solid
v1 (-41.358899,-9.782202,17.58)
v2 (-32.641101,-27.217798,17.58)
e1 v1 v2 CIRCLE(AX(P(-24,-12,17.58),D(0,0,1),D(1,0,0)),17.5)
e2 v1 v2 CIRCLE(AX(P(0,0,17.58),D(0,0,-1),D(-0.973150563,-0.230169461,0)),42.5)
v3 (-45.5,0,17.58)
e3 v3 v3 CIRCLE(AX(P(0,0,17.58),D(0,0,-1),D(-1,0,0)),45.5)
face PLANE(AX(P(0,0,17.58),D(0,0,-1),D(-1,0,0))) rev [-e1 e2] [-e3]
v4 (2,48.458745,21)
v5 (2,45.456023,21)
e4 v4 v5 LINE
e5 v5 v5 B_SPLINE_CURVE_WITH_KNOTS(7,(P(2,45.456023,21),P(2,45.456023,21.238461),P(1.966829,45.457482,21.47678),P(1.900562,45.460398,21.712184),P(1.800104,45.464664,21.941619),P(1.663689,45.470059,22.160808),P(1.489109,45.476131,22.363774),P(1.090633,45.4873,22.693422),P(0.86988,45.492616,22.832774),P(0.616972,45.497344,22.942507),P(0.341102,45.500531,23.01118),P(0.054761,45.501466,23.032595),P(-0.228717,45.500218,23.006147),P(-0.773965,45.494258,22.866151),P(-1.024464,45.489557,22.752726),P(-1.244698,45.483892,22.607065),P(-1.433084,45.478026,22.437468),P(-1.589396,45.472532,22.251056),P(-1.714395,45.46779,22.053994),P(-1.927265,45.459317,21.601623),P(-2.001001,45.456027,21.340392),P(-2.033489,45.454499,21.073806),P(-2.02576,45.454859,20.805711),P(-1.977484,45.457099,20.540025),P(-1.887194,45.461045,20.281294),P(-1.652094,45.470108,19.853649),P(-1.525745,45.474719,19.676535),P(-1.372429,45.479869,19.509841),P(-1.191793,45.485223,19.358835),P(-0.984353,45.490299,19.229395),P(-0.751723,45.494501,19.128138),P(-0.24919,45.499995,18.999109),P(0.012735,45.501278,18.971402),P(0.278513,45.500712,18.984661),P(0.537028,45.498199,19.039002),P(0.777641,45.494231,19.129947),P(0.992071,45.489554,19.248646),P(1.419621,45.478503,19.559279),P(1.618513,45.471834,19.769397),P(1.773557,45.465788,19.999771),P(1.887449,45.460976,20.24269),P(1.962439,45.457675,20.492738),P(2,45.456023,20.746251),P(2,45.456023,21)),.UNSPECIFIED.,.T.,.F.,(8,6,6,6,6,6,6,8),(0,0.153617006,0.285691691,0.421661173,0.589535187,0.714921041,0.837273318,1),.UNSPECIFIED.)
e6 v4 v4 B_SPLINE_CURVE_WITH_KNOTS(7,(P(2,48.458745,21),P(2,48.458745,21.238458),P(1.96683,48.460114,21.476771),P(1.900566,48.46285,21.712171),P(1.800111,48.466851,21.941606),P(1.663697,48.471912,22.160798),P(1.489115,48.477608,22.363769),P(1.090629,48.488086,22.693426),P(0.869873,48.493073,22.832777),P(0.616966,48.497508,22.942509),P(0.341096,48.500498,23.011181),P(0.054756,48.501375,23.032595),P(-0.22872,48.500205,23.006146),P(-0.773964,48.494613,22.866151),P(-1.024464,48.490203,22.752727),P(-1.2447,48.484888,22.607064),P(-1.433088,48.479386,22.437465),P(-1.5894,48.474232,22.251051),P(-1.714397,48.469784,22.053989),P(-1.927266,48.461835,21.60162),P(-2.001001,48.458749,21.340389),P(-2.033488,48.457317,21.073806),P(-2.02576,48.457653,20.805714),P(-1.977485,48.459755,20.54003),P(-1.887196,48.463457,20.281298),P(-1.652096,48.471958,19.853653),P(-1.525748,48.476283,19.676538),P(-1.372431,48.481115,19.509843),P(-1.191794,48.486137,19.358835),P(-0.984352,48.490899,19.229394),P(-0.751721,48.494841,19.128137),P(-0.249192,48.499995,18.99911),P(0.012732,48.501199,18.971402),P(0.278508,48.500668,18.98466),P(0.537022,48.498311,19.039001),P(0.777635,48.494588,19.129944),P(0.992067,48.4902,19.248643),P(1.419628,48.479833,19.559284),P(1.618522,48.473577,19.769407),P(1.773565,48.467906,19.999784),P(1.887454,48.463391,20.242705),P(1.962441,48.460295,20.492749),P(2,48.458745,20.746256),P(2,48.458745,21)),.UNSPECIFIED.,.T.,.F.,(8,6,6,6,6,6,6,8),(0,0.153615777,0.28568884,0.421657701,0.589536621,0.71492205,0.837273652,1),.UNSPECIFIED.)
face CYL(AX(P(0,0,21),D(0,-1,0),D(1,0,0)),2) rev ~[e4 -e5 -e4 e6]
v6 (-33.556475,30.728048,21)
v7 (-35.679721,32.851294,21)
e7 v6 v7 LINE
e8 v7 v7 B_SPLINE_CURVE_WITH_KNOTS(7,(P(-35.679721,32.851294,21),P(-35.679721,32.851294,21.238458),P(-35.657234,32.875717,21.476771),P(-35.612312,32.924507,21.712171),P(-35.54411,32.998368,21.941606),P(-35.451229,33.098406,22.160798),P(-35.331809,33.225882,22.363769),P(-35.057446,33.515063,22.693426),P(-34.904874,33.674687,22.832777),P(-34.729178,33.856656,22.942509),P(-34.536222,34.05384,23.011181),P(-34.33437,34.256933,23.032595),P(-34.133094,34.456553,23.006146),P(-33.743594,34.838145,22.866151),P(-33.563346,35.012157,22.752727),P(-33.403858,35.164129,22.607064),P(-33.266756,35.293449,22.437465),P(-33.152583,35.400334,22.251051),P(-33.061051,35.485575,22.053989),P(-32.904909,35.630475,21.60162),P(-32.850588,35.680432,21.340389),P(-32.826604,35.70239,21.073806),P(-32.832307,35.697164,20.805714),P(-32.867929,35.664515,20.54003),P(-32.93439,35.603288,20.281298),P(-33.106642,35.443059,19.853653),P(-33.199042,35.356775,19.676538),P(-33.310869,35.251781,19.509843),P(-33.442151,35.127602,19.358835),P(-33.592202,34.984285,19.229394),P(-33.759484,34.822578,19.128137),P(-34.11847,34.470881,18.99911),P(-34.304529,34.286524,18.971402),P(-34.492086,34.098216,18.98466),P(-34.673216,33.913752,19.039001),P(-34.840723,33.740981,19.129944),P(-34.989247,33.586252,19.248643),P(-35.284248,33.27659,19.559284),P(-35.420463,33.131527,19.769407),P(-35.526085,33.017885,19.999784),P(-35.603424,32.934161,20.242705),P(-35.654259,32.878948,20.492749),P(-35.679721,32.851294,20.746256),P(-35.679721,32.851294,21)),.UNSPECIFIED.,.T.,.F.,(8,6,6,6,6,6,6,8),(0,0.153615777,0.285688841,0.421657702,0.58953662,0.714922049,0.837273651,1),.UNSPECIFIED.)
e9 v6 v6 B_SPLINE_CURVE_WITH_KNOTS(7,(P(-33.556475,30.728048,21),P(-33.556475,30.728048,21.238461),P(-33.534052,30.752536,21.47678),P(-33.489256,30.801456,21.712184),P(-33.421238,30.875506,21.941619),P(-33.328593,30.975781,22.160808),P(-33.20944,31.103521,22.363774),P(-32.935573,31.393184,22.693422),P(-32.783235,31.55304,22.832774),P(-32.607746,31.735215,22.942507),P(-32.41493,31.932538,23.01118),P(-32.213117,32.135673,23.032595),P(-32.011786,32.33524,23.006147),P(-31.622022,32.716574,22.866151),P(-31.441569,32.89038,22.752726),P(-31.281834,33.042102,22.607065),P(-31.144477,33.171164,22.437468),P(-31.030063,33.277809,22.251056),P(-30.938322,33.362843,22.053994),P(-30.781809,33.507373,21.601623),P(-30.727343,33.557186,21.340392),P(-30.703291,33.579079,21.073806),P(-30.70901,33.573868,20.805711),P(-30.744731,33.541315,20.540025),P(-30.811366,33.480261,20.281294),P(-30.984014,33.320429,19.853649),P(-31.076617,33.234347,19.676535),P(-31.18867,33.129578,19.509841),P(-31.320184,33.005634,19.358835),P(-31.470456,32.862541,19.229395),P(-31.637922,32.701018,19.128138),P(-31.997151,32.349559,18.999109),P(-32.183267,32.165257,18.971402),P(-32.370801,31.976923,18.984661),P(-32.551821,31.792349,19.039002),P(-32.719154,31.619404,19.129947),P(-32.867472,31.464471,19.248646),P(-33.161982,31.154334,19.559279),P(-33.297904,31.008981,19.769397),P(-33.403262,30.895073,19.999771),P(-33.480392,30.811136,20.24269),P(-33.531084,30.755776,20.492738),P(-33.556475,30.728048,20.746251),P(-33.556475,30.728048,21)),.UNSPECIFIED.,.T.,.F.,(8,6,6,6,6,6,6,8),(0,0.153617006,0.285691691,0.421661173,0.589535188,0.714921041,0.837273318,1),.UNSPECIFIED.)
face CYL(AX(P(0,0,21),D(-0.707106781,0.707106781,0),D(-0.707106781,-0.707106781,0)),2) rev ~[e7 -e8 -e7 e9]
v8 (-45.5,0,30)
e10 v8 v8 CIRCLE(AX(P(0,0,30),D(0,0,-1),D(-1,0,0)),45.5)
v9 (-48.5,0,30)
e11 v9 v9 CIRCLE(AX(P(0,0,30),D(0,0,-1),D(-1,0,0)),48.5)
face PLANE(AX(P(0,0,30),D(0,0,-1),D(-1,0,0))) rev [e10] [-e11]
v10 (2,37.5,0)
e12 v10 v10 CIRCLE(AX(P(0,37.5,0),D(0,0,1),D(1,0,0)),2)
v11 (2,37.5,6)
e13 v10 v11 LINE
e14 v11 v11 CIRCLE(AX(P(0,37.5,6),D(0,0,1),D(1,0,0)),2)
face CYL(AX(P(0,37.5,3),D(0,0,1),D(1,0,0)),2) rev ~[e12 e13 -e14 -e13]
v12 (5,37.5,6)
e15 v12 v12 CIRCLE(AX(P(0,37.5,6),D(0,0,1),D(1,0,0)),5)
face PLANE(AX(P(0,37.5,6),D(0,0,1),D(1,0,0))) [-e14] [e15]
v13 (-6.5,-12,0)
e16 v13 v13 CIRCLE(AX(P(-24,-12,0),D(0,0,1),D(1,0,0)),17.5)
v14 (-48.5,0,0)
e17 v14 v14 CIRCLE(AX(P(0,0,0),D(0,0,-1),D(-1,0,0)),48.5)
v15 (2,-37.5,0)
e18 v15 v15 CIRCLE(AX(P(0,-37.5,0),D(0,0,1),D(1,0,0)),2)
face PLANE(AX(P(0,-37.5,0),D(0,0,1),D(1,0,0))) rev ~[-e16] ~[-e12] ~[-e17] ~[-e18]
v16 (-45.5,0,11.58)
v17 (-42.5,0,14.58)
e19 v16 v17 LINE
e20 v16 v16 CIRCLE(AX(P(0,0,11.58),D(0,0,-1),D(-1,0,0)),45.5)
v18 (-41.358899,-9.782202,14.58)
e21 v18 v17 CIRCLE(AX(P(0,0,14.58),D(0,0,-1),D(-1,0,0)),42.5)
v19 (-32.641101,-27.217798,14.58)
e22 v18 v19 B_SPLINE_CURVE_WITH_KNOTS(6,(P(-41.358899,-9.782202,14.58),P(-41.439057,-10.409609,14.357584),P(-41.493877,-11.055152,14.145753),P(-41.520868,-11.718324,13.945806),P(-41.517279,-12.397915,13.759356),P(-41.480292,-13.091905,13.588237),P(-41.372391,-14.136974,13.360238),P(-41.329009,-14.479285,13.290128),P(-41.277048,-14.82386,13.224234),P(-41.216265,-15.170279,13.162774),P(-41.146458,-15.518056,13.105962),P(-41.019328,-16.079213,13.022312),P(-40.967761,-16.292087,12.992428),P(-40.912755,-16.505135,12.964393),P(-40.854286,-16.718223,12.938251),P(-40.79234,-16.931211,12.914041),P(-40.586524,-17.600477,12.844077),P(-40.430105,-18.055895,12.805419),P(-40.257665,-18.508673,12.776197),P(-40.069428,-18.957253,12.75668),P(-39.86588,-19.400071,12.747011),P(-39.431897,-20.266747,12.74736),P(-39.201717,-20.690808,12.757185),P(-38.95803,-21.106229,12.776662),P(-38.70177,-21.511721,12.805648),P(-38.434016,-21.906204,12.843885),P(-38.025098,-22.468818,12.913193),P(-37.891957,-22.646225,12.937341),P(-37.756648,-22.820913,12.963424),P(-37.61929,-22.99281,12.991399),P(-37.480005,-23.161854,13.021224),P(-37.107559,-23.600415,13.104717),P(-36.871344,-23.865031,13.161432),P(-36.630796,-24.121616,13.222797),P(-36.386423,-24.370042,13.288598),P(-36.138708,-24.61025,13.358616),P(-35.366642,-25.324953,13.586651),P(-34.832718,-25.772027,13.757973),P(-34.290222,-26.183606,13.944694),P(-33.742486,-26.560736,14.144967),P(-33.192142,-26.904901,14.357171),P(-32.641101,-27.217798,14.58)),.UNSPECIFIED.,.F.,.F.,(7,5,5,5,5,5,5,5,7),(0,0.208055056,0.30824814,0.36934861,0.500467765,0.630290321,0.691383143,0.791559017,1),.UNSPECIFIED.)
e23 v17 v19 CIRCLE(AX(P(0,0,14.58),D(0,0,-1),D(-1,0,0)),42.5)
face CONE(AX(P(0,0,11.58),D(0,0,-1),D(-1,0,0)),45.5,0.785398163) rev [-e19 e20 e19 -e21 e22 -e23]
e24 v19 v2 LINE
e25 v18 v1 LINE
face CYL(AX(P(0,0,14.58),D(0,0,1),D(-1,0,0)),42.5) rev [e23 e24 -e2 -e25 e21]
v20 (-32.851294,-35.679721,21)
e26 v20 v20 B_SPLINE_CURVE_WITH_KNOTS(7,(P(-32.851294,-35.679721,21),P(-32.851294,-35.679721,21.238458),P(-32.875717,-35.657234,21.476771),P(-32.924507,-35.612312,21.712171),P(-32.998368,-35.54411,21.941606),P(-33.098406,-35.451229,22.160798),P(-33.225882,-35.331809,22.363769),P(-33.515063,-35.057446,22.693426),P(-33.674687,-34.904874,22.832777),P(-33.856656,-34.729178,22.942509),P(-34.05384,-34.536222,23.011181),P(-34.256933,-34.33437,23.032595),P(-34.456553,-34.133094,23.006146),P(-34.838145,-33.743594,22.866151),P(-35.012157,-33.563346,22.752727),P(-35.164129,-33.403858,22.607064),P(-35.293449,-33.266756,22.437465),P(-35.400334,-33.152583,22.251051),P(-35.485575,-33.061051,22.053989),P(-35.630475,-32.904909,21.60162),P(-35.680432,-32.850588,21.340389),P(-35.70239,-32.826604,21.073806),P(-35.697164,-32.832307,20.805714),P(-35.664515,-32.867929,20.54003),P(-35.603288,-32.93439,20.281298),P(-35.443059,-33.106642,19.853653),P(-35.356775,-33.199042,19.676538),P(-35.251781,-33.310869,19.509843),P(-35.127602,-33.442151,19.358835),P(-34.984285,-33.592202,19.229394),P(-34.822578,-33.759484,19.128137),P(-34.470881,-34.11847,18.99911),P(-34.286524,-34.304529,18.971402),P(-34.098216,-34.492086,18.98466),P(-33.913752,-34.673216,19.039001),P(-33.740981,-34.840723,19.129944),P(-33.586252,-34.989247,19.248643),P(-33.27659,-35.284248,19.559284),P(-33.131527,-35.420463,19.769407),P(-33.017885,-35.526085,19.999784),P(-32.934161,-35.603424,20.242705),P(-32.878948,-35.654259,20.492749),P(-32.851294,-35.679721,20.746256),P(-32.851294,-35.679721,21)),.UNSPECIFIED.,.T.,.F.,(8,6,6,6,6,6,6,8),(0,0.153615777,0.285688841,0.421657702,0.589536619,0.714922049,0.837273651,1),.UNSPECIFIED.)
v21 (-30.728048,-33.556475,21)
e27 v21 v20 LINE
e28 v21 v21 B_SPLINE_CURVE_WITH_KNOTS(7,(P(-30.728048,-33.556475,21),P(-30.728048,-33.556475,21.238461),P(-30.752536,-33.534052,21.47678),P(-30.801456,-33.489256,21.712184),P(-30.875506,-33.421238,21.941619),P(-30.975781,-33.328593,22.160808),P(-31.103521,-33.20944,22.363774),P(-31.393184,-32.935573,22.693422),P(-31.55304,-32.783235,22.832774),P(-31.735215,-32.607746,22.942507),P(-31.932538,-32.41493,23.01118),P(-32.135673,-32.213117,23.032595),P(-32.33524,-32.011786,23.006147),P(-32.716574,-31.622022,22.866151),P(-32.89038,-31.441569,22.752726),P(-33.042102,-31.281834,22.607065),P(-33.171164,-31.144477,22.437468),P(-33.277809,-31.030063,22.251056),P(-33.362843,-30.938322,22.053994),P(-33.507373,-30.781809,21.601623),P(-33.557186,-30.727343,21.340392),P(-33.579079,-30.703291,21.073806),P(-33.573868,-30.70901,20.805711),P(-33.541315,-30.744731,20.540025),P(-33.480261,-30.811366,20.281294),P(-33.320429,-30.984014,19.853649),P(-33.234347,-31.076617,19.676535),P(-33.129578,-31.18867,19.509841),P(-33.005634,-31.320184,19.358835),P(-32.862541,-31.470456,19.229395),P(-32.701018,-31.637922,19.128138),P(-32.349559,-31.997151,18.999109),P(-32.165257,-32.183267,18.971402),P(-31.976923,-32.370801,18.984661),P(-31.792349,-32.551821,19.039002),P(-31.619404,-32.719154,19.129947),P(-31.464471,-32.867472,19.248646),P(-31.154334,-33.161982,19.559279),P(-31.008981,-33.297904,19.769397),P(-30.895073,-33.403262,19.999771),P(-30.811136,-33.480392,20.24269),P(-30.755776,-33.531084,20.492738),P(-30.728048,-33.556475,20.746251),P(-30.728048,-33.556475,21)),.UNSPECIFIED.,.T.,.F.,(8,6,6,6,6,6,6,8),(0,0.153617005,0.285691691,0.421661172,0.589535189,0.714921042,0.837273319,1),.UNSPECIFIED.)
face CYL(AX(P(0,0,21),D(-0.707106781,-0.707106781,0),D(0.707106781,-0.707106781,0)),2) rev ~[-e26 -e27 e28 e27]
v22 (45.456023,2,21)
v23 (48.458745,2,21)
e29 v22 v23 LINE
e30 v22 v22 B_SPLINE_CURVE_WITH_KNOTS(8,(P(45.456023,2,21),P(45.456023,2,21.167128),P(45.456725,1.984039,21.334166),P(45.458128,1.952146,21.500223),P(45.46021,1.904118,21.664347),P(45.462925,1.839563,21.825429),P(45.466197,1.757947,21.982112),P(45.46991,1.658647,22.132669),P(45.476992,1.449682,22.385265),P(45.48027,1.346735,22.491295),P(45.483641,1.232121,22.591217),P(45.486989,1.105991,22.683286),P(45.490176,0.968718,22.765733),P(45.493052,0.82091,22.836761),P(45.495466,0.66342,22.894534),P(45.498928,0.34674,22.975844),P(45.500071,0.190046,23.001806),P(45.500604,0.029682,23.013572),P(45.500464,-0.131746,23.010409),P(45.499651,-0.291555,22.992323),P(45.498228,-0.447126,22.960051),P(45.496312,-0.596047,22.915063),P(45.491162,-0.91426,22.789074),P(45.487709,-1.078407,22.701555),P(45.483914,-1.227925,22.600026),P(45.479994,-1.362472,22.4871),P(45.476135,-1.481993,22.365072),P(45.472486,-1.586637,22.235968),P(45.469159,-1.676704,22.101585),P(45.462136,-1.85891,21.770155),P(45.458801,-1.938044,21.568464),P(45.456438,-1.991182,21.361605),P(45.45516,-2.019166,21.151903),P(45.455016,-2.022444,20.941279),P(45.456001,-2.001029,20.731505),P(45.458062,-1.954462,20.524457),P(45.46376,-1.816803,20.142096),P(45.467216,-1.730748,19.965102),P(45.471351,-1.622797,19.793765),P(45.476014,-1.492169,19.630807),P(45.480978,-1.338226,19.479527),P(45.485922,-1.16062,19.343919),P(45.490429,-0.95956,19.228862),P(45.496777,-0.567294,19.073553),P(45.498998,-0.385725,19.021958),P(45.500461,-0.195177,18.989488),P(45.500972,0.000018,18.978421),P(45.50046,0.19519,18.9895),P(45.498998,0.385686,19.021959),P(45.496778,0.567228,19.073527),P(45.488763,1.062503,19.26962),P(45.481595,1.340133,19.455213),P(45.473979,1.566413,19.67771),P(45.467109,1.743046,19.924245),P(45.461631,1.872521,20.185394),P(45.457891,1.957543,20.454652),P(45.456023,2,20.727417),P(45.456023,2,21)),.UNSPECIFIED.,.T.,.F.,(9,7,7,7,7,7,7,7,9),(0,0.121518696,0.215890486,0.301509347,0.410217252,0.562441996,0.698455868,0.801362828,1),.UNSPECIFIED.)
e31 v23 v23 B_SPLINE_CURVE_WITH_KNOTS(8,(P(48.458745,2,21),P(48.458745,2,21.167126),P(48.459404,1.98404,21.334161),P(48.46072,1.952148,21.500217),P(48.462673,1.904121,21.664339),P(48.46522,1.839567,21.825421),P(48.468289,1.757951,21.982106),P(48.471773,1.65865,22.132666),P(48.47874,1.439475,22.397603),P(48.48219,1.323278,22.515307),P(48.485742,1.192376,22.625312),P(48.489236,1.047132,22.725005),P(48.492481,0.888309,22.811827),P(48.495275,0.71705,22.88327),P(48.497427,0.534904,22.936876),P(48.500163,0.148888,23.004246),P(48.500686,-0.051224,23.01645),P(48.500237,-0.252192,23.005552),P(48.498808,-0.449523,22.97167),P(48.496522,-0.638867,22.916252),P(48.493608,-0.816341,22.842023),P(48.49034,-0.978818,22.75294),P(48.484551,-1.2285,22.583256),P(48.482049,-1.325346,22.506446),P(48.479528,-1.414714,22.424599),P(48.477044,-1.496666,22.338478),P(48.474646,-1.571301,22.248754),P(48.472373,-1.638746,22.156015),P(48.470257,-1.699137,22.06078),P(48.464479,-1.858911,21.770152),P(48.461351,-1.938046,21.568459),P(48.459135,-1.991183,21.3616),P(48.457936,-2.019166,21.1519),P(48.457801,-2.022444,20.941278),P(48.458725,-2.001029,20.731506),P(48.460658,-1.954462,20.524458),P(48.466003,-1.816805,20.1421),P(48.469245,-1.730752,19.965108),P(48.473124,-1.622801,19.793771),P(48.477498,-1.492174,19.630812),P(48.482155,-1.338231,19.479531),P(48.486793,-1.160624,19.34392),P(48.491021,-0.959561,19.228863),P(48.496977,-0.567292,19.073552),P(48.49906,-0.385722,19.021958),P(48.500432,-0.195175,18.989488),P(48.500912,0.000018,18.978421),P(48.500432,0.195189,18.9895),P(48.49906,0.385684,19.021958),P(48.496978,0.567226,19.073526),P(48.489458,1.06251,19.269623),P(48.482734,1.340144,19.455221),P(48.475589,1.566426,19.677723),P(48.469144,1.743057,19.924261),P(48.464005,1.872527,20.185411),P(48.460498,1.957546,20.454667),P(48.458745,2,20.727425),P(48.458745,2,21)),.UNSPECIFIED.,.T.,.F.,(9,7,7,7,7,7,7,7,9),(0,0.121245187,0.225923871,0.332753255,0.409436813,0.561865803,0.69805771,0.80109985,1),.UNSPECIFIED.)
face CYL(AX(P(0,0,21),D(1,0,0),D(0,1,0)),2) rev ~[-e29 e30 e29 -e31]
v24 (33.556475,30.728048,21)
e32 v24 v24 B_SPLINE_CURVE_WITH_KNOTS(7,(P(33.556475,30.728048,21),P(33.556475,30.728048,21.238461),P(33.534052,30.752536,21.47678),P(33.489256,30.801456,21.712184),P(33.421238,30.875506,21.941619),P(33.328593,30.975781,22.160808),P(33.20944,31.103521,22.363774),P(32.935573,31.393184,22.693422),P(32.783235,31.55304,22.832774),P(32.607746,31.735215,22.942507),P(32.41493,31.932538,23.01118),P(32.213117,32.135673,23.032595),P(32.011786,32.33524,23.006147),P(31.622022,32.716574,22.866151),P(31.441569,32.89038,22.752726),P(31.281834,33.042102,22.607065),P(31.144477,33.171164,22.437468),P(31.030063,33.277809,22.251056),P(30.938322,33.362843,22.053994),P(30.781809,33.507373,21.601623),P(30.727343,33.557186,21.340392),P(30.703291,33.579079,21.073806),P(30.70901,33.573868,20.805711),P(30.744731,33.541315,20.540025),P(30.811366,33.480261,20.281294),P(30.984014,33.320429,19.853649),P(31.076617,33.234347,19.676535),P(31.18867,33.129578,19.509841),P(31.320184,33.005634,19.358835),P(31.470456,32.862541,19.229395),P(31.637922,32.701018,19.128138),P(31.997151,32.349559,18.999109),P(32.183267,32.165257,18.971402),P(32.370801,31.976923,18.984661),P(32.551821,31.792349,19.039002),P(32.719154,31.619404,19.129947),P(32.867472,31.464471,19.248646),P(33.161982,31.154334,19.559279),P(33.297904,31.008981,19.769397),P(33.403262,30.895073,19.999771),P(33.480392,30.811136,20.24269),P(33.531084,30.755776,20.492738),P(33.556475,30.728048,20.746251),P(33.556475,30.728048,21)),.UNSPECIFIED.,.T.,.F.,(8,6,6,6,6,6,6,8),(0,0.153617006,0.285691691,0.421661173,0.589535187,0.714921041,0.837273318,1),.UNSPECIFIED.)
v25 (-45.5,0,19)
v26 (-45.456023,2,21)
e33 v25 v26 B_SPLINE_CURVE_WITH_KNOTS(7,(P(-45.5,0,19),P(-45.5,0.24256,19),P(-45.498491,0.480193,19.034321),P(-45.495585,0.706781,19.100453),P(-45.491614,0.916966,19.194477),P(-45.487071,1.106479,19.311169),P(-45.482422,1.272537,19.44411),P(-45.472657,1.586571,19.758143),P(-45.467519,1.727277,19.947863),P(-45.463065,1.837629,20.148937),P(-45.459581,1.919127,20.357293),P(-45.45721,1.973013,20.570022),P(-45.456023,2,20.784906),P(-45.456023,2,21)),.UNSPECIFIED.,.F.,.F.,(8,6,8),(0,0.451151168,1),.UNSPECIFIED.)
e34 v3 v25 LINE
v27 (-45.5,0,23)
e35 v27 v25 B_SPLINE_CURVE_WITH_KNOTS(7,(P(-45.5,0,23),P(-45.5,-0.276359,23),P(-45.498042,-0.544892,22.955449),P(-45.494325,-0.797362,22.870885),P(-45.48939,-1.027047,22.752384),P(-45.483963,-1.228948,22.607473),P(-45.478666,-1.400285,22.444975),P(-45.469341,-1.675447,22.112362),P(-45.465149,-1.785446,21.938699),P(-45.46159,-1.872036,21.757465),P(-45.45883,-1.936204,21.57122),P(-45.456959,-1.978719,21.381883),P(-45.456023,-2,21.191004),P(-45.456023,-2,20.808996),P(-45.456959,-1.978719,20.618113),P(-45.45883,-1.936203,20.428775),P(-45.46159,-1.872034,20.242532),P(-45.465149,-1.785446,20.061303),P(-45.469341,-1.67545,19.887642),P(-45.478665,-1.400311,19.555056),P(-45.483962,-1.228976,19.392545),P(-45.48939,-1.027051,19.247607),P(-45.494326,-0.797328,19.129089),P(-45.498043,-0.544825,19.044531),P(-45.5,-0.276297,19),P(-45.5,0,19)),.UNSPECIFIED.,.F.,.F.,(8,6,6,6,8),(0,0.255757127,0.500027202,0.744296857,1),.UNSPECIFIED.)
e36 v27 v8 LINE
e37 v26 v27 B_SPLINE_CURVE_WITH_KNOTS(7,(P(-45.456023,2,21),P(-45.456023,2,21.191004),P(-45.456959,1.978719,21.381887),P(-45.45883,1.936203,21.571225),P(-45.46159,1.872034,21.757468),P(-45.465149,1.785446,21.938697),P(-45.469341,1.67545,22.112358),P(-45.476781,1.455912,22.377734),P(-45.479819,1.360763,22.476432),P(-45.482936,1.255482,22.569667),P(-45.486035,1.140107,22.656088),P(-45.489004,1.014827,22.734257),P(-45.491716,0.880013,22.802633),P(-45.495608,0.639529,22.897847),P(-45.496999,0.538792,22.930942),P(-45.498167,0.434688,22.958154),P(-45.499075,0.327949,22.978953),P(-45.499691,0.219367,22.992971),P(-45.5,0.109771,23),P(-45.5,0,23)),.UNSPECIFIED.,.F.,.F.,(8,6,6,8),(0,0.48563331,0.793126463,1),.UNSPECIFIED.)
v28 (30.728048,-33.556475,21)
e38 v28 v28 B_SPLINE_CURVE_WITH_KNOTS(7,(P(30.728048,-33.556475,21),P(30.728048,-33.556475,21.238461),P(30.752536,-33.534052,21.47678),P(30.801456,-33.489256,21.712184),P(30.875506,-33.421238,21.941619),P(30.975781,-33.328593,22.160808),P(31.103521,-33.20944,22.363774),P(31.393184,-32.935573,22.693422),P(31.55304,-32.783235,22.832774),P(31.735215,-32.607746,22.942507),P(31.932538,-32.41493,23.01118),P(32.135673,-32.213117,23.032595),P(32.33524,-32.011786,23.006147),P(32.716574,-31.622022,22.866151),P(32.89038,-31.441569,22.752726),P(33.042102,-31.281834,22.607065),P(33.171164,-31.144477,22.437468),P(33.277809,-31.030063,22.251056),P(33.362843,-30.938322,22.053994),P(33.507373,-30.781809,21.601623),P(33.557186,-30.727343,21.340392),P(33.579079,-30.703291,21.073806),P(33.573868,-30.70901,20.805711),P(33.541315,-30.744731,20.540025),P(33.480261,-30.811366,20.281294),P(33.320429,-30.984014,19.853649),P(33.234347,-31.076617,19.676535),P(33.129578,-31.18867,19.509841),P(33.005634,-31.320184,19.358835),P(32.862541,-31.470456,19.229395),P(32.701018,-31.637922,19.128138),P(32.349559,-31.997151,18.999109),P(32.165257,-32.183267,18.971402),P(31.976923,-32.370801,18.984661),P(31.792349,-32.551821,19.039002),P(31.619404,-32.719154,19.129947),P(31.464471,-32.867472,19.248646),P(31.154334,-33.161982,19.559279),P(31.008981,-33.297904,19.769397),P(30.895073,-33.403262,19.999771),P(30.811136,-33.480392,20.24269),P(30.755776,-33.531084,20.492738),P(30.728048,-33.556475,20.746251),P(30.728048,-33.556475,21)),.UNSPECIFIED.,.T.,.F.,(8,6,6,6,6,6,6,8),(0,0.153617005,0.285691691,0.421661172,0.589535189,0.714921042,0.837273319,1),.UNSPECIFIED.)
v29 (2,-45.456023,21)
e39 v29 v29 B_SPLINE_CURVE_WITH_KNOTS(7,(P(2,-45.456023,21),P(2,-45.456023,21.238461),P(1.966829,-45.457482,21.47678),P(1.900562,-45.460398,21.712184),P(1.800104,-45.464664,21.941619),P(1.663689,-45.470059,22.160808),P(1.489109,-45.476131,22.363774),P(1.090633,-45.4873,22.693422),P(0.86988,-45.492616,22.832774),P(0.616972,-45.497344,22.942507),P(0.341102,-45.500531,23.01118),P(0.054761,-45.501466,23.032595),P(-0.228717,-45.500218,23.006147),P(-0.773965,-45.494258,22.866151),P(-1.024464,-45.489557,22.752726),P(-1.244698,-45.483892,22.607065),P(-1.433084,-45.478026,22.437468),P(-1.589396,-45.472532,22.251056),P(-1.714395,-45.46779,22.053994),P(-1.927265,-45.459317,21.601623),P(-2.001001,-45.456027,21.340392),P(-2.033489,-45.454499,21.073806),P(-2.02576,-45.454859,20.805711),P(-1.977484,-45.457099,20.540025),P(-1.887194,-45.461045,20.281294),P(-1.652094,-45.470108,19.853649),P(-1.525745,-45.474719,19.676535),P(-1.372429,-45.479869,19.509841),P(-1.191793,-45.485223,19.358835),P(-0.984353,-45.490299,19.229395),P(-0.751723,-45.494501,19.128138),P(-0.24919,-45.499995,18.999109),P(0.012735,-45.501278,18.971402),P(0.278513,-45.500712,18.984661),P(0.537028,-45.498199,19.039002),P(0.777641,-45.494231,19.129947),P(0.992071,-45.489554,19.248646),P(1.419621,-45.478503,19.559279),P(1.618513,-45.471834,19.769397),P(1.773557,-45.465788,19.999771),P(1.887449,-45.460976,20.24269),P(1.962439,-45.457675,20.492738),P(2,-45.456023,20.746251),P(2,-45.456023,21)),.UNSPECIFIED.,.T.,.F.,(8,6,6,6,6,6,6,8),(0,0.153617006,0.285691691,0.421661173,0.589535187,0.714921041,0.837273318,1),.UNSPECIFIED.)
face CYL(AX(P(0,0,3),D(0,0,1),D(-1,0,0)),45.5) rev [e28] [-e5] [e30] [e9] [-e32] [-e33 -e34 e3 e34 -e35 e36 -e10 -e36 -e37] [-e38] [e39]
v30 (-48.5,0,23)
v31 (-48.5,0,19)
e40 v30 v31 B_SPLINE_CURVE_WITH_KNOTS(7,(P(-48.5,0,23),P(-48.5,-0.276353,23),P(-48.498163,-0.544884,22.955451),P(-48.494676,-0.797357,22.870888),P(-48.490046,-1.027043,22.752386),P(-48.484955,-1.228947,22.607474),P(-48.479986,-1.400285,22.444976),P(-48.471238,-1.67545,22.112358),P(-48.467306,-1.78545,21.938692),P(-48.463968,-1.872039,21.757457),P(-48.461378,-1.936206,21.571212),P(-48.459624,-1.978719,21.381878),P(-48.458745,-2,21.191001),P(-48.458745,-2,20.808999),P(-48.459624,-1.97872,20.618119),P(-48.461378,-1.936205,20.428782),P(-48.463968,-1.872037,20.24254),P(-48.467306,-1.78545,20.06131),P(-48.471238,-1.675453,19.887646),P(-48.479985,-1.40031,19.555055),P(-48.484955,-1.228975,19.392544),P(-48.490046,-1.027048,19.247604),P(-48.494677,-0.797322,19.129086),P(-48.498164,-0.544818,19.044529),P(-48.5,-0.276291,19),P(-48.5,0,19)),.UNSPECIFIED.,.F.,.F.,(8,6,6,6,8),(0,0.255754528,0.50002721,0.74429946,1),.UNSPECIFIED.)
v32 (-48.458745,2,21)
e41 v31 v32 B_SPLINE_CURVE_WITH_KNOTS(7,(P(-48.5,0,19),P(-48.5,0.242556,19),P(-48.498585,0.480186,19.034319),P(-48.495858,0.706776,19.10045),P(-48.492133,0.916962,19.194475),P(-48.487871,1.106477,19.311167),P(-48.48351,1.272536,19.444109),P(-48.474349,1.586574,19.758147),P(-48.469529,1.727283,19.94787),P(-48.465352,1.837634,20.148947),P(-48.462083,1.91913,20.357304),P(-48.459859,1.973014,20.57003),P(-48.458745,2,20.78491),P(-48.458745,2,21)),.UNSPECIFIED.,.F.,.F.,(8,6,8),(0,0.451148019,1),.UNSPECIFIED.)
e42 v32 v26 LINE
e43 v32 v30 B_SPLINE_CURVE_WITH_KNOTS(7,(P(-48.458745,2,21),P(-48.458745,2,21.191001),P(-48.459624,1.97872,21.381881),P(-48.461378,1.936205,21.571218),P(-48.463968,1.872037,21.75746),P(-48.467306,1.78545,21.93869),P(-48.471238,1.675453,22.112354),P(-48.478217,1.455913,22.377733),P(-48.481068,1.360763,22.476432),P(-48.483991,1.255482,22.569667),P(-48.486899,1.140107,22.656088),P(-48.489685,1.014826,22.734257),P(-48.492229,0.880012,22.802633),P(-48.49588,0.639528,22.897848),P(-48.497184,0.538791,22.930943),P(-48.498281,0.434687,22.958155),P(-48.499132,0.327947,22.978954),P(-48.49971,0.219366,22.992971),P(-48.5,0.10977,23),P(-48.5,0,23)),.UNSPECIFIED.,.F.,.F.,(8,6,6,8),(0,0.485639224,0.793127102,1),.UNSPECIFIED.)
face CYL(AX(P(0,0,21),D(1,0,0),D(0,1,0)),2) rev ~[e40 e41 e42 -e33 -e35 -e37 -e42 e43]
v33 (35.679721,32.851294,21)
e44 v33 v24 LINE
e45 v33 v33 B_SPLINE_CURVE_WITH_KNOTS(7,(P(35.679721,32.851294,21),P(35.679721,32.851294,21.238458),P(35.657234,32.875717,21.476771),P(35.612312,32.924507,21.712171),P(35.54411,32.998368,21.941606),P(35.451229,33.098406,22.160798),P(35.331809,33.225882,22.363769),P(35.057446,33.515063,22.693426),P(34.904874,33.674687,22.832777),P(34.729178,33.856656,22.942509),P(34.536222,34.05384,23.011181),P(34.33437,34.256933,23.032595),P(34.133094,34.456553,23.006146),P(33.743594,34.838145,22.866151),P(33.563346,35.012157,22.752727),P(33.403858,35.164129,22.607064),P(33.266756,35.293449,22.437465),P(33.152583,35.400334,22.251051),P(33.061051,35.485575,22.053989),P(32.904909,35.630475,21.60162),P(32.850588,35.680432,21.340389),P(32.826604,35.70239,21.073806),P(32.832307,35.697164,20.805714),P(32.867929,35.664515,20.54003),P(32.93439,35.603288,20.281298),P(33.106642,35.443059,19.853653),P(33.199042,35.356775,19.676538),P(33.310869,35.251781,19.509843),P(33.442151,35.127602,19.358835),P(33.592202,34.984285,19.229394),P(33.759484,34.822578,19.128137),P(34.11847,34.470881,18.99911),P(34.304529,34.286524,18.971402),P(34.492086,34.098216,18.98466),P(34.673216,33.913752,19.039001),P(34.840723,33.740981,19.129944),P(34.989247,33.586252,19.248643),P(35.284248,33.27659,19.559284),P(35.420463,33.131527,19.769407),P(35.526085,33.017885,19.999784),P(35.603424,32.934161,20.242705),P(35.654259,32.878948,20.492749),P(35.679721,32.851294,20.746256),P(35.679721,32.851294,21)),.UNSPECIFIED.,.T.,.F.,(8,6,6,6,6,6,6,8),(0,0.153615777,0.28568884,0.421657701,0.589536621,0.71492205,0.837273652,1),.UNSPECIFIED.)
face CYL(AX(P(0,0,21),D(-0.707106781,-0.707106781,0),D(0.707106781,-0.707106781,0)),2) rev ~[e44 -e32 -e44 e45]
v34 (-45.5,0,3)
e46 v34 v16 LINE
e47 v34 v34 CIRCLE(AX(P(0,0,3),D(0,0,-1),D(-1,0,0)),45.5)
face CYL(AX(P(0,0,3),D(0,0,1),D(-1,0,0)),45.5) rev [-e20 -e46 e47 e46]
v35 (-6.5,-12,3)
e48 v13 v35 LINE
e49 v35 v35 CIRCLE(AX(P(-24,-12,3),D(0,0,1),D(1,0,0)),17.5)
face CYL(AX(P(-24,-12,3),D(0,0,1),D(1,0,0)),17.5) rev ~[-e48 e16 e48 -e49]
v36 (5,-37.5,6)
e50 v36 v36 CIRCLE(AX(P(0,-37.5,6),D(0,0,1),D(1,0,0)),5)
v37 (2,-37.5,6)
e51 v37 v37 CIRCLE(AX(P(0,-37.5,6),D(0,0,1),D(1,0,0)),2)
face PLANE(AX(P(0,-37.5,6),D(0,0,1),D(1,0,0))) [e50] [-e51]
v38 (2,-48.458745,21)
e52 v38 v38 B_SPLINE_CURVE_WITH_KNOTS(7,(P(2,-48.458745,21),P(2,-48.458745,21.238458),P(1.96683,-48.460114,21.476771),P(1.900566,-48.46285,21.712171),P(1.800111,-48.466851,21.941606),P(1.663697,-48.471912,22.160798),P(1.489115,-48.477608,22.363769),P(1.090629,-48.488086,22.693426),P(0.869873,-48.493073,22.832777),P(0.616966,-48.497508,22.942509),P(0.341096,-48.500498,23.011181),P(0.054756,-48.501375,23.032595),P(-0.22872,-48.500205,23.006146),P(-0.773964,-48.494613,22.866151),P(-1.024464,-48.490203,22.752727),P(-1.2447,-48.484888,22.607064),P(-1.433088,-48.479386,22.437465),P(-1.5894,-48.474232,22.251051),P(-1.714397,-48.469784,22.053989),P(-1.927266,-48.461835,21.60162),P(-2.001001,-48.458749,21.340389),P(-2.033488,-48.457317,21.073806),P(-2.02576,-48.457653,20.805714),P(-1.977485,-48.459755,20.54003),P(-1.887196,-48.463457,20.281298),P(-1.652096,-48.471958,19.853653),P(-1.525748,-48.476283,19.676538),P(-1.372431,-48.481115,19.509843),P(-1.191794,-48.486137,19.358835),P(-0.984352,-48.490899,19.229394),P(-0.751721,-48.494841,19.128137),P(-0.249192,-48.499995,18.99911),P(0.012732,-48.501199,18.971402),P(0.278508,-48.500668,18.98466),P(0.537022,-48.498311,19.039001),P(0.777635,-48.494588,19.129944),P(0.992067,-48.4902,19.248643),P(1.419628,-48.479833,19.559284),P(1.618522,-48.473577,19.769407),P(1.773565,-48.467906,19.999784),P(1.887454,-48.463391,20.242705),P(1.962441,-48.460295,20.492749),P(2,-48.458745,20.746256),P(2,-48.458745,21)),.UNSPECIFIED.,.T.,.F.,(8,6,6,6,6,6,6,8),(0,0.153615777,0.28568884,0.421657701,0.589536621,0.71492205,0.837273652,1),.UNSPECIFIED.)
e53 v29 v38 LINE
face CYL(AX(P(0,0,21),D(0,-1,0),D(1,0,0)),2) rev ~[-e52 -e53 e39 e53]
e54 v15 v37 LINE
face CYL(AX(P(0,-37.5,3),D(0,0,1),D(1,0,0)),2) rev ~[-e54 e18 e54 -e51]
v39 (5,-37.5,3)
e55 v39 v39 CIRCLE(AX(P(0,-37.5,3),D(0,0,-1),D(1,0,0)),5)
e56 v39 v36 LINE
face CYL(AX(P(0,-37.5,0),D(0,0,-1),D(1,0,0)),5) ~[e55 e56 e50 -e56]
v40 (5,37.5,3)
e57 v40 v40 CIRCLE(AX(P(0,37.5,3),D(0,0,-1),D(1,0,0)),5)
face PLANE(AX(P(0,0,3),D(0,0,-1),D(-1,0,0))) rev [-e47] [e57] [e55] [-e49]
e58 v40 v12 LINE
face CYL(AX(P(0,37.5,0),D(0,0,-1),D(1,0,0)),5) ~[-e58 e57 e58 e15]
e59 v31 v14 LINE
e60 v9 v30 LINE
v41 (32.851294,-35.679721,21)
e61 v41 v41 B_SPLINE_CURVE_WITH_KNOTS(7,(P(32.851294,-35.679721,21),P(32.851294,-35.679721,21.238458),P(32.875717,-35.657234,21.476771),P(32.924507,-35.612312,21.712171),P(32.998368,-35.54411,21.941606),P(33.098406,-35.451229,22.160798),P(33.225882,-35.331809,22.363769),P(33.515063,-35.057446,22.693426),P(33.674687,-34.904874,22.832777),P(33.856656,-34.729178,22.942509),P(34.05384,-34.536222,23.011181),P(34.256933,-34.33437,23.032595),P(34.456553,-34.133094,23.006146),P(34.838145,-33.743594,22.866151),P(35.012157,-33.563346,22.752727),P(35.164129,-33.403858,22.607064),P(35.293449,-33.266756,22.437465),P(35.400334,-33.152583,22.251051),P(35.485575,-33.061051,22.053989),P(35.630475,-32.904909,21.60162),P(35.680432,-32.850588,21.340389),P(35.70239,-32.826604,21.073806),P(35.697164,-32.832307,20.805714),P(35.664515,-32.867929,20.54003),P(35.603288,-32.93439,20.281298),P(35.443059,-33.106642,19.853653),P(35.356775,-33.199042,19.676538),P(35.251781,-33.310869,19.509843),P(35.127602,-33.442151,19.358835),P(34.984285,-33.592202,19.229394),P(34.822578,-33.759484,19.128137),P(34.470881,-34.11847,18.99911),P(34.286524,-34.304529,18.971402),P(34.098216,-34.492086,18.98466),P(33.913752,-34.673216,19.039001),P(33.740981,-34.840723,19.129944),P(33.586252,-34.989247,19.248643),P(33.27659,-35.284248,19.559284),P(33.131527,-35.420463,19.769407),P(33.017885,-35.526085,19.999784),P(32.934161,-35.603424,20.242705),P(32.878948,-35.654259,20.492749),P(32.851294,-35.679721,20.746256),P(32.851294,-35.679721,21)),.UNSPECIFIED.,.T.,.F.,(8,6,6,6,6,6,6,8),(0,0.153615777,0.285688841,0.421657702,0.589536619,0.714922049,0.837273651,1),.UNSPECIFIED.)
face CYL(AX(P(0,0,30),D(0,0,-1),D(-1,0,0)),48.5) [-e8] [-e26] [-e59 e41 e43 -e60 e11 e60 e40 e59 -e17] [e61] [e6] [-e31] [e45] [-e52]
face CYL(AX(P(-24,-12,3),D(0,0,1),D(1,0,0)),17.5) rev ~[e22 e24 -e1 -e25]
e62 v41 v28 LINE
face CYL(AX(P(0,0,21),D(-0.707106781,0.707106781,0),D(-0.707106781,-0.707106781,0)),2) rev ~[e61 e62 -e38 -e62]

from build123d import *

# Parameters (mm, degrees)
F2_R      = 2
F3_DEPTH  = 77.8
F4_R      = 5
F5_DEPTH  = 6
F6_R      = 2
F7_DEPTH  = 12.5
F8_DEPTH  = 12.5
F9_R      = 2
F10_DEPTH = 50
F11_R     = 17.5
F12_DEPTH = 25
F14_R     = 2
F15_DEPTH = 50
F17_R     = 2
F18_DEPTH = 50


with BuildPart() as f1:
    # F0 (on Front) → F1 (revolve)
    with BuildSketch(Plane.XZ):
        Polygon((-48.5, 0), (0, 0), (0, 3), (-45.5, 3), (-45.5, 11.58), (-45.5, 17.58), (-45.5, 30), (-48.5, 30), align=None)
        Polygon((-45.5, 17.58), (-45.5, 11.58), (-42.5, 14.58), (-42.5, 17.58), align=None)
    revolve(axis=Axis((0, 0, 1.5), (0, 0, -1)))

    # F2 (on Front) → F3 (cut, symmetric)
    with BuildSketch(Plane.XZ):
        with Locations((0, 21)):
            Circle(F2_R)
    extrude(amount=F3_DEPTH, both=True, mode=Mode.SUBTRACT)

    # F4 (on Top) → F5 (join)
    with BuildSketch(Plane.XY):
        with Locations((0, -37.5)):
            Circle(F4_R)
        with Locations((0, 37.5)):
            Circle(F4_R)
    extrude(amount=F5_DEPTH)

    # F6 (on face) → F7 (cut, symmetric)
    with BuildSketch(Plane.XY.offset(3)):
        with Locations((0, 37.5)):
            Circle(F6_R)
    extrude(amount=F7_DEPTH, both=True, mode=Mode.SUBTRACT)

    # F6 (on face) → F8 (cut, symmetric)
    with BuildSketch(Plane.XY.offset(3)):
        with Locations((0, -37.5)):
            Circle(F6_R)
    extrude(amount=F8_DEPTH, both=True, mode=Mode.SUBTRACT)

    # F9 (on Right) → F10 (cut, symmetric)
    with BuildSketch(Plane.YZ):
        with Locations((0, 21)):
            Circle(F9_R)
    extrude(amount=F10_DEPTH, both=True, mode=Mode.SUBTRACT)

    # F11 (on face) → F12 (cut, symmetric)
    with BuildSketch(Plane.XY.offset(3)):
        with Locations((-24, -12)):
            Circle(F11_R)
    extrude(amount=F12_DEPTH, both=True, mode=Mode.SUBTRACT)

    # F14 (on face) → F15 (cut, symmetric)
    with BuildSketch(Plane(origin=(0, 0, 0), x_dir=(0.707107, -0.707107, 0), z_dir=(-0.707107, -0.707107, 0))):
        with Locations((0, 21)):
            Circle(F14_R)
    extrude(amount=F15_DEPTH, both=True, mode=Mode.SUBTRACT)

    # F17 (on face) → F18 (cut, symmetric)
    with BuildSketch(Plane(origin=(0, 0, 0), x_dir=(-0.707107, -0.707107, 0), z_dir=(-0.707107, 0.707107, 0))):
        with Locations((0, 21)):
            Circle(F17_R)
    extrude(amount=F18_DEPTH, both=True, mode=Mode.SUBTRACT)


solid = f1.part
